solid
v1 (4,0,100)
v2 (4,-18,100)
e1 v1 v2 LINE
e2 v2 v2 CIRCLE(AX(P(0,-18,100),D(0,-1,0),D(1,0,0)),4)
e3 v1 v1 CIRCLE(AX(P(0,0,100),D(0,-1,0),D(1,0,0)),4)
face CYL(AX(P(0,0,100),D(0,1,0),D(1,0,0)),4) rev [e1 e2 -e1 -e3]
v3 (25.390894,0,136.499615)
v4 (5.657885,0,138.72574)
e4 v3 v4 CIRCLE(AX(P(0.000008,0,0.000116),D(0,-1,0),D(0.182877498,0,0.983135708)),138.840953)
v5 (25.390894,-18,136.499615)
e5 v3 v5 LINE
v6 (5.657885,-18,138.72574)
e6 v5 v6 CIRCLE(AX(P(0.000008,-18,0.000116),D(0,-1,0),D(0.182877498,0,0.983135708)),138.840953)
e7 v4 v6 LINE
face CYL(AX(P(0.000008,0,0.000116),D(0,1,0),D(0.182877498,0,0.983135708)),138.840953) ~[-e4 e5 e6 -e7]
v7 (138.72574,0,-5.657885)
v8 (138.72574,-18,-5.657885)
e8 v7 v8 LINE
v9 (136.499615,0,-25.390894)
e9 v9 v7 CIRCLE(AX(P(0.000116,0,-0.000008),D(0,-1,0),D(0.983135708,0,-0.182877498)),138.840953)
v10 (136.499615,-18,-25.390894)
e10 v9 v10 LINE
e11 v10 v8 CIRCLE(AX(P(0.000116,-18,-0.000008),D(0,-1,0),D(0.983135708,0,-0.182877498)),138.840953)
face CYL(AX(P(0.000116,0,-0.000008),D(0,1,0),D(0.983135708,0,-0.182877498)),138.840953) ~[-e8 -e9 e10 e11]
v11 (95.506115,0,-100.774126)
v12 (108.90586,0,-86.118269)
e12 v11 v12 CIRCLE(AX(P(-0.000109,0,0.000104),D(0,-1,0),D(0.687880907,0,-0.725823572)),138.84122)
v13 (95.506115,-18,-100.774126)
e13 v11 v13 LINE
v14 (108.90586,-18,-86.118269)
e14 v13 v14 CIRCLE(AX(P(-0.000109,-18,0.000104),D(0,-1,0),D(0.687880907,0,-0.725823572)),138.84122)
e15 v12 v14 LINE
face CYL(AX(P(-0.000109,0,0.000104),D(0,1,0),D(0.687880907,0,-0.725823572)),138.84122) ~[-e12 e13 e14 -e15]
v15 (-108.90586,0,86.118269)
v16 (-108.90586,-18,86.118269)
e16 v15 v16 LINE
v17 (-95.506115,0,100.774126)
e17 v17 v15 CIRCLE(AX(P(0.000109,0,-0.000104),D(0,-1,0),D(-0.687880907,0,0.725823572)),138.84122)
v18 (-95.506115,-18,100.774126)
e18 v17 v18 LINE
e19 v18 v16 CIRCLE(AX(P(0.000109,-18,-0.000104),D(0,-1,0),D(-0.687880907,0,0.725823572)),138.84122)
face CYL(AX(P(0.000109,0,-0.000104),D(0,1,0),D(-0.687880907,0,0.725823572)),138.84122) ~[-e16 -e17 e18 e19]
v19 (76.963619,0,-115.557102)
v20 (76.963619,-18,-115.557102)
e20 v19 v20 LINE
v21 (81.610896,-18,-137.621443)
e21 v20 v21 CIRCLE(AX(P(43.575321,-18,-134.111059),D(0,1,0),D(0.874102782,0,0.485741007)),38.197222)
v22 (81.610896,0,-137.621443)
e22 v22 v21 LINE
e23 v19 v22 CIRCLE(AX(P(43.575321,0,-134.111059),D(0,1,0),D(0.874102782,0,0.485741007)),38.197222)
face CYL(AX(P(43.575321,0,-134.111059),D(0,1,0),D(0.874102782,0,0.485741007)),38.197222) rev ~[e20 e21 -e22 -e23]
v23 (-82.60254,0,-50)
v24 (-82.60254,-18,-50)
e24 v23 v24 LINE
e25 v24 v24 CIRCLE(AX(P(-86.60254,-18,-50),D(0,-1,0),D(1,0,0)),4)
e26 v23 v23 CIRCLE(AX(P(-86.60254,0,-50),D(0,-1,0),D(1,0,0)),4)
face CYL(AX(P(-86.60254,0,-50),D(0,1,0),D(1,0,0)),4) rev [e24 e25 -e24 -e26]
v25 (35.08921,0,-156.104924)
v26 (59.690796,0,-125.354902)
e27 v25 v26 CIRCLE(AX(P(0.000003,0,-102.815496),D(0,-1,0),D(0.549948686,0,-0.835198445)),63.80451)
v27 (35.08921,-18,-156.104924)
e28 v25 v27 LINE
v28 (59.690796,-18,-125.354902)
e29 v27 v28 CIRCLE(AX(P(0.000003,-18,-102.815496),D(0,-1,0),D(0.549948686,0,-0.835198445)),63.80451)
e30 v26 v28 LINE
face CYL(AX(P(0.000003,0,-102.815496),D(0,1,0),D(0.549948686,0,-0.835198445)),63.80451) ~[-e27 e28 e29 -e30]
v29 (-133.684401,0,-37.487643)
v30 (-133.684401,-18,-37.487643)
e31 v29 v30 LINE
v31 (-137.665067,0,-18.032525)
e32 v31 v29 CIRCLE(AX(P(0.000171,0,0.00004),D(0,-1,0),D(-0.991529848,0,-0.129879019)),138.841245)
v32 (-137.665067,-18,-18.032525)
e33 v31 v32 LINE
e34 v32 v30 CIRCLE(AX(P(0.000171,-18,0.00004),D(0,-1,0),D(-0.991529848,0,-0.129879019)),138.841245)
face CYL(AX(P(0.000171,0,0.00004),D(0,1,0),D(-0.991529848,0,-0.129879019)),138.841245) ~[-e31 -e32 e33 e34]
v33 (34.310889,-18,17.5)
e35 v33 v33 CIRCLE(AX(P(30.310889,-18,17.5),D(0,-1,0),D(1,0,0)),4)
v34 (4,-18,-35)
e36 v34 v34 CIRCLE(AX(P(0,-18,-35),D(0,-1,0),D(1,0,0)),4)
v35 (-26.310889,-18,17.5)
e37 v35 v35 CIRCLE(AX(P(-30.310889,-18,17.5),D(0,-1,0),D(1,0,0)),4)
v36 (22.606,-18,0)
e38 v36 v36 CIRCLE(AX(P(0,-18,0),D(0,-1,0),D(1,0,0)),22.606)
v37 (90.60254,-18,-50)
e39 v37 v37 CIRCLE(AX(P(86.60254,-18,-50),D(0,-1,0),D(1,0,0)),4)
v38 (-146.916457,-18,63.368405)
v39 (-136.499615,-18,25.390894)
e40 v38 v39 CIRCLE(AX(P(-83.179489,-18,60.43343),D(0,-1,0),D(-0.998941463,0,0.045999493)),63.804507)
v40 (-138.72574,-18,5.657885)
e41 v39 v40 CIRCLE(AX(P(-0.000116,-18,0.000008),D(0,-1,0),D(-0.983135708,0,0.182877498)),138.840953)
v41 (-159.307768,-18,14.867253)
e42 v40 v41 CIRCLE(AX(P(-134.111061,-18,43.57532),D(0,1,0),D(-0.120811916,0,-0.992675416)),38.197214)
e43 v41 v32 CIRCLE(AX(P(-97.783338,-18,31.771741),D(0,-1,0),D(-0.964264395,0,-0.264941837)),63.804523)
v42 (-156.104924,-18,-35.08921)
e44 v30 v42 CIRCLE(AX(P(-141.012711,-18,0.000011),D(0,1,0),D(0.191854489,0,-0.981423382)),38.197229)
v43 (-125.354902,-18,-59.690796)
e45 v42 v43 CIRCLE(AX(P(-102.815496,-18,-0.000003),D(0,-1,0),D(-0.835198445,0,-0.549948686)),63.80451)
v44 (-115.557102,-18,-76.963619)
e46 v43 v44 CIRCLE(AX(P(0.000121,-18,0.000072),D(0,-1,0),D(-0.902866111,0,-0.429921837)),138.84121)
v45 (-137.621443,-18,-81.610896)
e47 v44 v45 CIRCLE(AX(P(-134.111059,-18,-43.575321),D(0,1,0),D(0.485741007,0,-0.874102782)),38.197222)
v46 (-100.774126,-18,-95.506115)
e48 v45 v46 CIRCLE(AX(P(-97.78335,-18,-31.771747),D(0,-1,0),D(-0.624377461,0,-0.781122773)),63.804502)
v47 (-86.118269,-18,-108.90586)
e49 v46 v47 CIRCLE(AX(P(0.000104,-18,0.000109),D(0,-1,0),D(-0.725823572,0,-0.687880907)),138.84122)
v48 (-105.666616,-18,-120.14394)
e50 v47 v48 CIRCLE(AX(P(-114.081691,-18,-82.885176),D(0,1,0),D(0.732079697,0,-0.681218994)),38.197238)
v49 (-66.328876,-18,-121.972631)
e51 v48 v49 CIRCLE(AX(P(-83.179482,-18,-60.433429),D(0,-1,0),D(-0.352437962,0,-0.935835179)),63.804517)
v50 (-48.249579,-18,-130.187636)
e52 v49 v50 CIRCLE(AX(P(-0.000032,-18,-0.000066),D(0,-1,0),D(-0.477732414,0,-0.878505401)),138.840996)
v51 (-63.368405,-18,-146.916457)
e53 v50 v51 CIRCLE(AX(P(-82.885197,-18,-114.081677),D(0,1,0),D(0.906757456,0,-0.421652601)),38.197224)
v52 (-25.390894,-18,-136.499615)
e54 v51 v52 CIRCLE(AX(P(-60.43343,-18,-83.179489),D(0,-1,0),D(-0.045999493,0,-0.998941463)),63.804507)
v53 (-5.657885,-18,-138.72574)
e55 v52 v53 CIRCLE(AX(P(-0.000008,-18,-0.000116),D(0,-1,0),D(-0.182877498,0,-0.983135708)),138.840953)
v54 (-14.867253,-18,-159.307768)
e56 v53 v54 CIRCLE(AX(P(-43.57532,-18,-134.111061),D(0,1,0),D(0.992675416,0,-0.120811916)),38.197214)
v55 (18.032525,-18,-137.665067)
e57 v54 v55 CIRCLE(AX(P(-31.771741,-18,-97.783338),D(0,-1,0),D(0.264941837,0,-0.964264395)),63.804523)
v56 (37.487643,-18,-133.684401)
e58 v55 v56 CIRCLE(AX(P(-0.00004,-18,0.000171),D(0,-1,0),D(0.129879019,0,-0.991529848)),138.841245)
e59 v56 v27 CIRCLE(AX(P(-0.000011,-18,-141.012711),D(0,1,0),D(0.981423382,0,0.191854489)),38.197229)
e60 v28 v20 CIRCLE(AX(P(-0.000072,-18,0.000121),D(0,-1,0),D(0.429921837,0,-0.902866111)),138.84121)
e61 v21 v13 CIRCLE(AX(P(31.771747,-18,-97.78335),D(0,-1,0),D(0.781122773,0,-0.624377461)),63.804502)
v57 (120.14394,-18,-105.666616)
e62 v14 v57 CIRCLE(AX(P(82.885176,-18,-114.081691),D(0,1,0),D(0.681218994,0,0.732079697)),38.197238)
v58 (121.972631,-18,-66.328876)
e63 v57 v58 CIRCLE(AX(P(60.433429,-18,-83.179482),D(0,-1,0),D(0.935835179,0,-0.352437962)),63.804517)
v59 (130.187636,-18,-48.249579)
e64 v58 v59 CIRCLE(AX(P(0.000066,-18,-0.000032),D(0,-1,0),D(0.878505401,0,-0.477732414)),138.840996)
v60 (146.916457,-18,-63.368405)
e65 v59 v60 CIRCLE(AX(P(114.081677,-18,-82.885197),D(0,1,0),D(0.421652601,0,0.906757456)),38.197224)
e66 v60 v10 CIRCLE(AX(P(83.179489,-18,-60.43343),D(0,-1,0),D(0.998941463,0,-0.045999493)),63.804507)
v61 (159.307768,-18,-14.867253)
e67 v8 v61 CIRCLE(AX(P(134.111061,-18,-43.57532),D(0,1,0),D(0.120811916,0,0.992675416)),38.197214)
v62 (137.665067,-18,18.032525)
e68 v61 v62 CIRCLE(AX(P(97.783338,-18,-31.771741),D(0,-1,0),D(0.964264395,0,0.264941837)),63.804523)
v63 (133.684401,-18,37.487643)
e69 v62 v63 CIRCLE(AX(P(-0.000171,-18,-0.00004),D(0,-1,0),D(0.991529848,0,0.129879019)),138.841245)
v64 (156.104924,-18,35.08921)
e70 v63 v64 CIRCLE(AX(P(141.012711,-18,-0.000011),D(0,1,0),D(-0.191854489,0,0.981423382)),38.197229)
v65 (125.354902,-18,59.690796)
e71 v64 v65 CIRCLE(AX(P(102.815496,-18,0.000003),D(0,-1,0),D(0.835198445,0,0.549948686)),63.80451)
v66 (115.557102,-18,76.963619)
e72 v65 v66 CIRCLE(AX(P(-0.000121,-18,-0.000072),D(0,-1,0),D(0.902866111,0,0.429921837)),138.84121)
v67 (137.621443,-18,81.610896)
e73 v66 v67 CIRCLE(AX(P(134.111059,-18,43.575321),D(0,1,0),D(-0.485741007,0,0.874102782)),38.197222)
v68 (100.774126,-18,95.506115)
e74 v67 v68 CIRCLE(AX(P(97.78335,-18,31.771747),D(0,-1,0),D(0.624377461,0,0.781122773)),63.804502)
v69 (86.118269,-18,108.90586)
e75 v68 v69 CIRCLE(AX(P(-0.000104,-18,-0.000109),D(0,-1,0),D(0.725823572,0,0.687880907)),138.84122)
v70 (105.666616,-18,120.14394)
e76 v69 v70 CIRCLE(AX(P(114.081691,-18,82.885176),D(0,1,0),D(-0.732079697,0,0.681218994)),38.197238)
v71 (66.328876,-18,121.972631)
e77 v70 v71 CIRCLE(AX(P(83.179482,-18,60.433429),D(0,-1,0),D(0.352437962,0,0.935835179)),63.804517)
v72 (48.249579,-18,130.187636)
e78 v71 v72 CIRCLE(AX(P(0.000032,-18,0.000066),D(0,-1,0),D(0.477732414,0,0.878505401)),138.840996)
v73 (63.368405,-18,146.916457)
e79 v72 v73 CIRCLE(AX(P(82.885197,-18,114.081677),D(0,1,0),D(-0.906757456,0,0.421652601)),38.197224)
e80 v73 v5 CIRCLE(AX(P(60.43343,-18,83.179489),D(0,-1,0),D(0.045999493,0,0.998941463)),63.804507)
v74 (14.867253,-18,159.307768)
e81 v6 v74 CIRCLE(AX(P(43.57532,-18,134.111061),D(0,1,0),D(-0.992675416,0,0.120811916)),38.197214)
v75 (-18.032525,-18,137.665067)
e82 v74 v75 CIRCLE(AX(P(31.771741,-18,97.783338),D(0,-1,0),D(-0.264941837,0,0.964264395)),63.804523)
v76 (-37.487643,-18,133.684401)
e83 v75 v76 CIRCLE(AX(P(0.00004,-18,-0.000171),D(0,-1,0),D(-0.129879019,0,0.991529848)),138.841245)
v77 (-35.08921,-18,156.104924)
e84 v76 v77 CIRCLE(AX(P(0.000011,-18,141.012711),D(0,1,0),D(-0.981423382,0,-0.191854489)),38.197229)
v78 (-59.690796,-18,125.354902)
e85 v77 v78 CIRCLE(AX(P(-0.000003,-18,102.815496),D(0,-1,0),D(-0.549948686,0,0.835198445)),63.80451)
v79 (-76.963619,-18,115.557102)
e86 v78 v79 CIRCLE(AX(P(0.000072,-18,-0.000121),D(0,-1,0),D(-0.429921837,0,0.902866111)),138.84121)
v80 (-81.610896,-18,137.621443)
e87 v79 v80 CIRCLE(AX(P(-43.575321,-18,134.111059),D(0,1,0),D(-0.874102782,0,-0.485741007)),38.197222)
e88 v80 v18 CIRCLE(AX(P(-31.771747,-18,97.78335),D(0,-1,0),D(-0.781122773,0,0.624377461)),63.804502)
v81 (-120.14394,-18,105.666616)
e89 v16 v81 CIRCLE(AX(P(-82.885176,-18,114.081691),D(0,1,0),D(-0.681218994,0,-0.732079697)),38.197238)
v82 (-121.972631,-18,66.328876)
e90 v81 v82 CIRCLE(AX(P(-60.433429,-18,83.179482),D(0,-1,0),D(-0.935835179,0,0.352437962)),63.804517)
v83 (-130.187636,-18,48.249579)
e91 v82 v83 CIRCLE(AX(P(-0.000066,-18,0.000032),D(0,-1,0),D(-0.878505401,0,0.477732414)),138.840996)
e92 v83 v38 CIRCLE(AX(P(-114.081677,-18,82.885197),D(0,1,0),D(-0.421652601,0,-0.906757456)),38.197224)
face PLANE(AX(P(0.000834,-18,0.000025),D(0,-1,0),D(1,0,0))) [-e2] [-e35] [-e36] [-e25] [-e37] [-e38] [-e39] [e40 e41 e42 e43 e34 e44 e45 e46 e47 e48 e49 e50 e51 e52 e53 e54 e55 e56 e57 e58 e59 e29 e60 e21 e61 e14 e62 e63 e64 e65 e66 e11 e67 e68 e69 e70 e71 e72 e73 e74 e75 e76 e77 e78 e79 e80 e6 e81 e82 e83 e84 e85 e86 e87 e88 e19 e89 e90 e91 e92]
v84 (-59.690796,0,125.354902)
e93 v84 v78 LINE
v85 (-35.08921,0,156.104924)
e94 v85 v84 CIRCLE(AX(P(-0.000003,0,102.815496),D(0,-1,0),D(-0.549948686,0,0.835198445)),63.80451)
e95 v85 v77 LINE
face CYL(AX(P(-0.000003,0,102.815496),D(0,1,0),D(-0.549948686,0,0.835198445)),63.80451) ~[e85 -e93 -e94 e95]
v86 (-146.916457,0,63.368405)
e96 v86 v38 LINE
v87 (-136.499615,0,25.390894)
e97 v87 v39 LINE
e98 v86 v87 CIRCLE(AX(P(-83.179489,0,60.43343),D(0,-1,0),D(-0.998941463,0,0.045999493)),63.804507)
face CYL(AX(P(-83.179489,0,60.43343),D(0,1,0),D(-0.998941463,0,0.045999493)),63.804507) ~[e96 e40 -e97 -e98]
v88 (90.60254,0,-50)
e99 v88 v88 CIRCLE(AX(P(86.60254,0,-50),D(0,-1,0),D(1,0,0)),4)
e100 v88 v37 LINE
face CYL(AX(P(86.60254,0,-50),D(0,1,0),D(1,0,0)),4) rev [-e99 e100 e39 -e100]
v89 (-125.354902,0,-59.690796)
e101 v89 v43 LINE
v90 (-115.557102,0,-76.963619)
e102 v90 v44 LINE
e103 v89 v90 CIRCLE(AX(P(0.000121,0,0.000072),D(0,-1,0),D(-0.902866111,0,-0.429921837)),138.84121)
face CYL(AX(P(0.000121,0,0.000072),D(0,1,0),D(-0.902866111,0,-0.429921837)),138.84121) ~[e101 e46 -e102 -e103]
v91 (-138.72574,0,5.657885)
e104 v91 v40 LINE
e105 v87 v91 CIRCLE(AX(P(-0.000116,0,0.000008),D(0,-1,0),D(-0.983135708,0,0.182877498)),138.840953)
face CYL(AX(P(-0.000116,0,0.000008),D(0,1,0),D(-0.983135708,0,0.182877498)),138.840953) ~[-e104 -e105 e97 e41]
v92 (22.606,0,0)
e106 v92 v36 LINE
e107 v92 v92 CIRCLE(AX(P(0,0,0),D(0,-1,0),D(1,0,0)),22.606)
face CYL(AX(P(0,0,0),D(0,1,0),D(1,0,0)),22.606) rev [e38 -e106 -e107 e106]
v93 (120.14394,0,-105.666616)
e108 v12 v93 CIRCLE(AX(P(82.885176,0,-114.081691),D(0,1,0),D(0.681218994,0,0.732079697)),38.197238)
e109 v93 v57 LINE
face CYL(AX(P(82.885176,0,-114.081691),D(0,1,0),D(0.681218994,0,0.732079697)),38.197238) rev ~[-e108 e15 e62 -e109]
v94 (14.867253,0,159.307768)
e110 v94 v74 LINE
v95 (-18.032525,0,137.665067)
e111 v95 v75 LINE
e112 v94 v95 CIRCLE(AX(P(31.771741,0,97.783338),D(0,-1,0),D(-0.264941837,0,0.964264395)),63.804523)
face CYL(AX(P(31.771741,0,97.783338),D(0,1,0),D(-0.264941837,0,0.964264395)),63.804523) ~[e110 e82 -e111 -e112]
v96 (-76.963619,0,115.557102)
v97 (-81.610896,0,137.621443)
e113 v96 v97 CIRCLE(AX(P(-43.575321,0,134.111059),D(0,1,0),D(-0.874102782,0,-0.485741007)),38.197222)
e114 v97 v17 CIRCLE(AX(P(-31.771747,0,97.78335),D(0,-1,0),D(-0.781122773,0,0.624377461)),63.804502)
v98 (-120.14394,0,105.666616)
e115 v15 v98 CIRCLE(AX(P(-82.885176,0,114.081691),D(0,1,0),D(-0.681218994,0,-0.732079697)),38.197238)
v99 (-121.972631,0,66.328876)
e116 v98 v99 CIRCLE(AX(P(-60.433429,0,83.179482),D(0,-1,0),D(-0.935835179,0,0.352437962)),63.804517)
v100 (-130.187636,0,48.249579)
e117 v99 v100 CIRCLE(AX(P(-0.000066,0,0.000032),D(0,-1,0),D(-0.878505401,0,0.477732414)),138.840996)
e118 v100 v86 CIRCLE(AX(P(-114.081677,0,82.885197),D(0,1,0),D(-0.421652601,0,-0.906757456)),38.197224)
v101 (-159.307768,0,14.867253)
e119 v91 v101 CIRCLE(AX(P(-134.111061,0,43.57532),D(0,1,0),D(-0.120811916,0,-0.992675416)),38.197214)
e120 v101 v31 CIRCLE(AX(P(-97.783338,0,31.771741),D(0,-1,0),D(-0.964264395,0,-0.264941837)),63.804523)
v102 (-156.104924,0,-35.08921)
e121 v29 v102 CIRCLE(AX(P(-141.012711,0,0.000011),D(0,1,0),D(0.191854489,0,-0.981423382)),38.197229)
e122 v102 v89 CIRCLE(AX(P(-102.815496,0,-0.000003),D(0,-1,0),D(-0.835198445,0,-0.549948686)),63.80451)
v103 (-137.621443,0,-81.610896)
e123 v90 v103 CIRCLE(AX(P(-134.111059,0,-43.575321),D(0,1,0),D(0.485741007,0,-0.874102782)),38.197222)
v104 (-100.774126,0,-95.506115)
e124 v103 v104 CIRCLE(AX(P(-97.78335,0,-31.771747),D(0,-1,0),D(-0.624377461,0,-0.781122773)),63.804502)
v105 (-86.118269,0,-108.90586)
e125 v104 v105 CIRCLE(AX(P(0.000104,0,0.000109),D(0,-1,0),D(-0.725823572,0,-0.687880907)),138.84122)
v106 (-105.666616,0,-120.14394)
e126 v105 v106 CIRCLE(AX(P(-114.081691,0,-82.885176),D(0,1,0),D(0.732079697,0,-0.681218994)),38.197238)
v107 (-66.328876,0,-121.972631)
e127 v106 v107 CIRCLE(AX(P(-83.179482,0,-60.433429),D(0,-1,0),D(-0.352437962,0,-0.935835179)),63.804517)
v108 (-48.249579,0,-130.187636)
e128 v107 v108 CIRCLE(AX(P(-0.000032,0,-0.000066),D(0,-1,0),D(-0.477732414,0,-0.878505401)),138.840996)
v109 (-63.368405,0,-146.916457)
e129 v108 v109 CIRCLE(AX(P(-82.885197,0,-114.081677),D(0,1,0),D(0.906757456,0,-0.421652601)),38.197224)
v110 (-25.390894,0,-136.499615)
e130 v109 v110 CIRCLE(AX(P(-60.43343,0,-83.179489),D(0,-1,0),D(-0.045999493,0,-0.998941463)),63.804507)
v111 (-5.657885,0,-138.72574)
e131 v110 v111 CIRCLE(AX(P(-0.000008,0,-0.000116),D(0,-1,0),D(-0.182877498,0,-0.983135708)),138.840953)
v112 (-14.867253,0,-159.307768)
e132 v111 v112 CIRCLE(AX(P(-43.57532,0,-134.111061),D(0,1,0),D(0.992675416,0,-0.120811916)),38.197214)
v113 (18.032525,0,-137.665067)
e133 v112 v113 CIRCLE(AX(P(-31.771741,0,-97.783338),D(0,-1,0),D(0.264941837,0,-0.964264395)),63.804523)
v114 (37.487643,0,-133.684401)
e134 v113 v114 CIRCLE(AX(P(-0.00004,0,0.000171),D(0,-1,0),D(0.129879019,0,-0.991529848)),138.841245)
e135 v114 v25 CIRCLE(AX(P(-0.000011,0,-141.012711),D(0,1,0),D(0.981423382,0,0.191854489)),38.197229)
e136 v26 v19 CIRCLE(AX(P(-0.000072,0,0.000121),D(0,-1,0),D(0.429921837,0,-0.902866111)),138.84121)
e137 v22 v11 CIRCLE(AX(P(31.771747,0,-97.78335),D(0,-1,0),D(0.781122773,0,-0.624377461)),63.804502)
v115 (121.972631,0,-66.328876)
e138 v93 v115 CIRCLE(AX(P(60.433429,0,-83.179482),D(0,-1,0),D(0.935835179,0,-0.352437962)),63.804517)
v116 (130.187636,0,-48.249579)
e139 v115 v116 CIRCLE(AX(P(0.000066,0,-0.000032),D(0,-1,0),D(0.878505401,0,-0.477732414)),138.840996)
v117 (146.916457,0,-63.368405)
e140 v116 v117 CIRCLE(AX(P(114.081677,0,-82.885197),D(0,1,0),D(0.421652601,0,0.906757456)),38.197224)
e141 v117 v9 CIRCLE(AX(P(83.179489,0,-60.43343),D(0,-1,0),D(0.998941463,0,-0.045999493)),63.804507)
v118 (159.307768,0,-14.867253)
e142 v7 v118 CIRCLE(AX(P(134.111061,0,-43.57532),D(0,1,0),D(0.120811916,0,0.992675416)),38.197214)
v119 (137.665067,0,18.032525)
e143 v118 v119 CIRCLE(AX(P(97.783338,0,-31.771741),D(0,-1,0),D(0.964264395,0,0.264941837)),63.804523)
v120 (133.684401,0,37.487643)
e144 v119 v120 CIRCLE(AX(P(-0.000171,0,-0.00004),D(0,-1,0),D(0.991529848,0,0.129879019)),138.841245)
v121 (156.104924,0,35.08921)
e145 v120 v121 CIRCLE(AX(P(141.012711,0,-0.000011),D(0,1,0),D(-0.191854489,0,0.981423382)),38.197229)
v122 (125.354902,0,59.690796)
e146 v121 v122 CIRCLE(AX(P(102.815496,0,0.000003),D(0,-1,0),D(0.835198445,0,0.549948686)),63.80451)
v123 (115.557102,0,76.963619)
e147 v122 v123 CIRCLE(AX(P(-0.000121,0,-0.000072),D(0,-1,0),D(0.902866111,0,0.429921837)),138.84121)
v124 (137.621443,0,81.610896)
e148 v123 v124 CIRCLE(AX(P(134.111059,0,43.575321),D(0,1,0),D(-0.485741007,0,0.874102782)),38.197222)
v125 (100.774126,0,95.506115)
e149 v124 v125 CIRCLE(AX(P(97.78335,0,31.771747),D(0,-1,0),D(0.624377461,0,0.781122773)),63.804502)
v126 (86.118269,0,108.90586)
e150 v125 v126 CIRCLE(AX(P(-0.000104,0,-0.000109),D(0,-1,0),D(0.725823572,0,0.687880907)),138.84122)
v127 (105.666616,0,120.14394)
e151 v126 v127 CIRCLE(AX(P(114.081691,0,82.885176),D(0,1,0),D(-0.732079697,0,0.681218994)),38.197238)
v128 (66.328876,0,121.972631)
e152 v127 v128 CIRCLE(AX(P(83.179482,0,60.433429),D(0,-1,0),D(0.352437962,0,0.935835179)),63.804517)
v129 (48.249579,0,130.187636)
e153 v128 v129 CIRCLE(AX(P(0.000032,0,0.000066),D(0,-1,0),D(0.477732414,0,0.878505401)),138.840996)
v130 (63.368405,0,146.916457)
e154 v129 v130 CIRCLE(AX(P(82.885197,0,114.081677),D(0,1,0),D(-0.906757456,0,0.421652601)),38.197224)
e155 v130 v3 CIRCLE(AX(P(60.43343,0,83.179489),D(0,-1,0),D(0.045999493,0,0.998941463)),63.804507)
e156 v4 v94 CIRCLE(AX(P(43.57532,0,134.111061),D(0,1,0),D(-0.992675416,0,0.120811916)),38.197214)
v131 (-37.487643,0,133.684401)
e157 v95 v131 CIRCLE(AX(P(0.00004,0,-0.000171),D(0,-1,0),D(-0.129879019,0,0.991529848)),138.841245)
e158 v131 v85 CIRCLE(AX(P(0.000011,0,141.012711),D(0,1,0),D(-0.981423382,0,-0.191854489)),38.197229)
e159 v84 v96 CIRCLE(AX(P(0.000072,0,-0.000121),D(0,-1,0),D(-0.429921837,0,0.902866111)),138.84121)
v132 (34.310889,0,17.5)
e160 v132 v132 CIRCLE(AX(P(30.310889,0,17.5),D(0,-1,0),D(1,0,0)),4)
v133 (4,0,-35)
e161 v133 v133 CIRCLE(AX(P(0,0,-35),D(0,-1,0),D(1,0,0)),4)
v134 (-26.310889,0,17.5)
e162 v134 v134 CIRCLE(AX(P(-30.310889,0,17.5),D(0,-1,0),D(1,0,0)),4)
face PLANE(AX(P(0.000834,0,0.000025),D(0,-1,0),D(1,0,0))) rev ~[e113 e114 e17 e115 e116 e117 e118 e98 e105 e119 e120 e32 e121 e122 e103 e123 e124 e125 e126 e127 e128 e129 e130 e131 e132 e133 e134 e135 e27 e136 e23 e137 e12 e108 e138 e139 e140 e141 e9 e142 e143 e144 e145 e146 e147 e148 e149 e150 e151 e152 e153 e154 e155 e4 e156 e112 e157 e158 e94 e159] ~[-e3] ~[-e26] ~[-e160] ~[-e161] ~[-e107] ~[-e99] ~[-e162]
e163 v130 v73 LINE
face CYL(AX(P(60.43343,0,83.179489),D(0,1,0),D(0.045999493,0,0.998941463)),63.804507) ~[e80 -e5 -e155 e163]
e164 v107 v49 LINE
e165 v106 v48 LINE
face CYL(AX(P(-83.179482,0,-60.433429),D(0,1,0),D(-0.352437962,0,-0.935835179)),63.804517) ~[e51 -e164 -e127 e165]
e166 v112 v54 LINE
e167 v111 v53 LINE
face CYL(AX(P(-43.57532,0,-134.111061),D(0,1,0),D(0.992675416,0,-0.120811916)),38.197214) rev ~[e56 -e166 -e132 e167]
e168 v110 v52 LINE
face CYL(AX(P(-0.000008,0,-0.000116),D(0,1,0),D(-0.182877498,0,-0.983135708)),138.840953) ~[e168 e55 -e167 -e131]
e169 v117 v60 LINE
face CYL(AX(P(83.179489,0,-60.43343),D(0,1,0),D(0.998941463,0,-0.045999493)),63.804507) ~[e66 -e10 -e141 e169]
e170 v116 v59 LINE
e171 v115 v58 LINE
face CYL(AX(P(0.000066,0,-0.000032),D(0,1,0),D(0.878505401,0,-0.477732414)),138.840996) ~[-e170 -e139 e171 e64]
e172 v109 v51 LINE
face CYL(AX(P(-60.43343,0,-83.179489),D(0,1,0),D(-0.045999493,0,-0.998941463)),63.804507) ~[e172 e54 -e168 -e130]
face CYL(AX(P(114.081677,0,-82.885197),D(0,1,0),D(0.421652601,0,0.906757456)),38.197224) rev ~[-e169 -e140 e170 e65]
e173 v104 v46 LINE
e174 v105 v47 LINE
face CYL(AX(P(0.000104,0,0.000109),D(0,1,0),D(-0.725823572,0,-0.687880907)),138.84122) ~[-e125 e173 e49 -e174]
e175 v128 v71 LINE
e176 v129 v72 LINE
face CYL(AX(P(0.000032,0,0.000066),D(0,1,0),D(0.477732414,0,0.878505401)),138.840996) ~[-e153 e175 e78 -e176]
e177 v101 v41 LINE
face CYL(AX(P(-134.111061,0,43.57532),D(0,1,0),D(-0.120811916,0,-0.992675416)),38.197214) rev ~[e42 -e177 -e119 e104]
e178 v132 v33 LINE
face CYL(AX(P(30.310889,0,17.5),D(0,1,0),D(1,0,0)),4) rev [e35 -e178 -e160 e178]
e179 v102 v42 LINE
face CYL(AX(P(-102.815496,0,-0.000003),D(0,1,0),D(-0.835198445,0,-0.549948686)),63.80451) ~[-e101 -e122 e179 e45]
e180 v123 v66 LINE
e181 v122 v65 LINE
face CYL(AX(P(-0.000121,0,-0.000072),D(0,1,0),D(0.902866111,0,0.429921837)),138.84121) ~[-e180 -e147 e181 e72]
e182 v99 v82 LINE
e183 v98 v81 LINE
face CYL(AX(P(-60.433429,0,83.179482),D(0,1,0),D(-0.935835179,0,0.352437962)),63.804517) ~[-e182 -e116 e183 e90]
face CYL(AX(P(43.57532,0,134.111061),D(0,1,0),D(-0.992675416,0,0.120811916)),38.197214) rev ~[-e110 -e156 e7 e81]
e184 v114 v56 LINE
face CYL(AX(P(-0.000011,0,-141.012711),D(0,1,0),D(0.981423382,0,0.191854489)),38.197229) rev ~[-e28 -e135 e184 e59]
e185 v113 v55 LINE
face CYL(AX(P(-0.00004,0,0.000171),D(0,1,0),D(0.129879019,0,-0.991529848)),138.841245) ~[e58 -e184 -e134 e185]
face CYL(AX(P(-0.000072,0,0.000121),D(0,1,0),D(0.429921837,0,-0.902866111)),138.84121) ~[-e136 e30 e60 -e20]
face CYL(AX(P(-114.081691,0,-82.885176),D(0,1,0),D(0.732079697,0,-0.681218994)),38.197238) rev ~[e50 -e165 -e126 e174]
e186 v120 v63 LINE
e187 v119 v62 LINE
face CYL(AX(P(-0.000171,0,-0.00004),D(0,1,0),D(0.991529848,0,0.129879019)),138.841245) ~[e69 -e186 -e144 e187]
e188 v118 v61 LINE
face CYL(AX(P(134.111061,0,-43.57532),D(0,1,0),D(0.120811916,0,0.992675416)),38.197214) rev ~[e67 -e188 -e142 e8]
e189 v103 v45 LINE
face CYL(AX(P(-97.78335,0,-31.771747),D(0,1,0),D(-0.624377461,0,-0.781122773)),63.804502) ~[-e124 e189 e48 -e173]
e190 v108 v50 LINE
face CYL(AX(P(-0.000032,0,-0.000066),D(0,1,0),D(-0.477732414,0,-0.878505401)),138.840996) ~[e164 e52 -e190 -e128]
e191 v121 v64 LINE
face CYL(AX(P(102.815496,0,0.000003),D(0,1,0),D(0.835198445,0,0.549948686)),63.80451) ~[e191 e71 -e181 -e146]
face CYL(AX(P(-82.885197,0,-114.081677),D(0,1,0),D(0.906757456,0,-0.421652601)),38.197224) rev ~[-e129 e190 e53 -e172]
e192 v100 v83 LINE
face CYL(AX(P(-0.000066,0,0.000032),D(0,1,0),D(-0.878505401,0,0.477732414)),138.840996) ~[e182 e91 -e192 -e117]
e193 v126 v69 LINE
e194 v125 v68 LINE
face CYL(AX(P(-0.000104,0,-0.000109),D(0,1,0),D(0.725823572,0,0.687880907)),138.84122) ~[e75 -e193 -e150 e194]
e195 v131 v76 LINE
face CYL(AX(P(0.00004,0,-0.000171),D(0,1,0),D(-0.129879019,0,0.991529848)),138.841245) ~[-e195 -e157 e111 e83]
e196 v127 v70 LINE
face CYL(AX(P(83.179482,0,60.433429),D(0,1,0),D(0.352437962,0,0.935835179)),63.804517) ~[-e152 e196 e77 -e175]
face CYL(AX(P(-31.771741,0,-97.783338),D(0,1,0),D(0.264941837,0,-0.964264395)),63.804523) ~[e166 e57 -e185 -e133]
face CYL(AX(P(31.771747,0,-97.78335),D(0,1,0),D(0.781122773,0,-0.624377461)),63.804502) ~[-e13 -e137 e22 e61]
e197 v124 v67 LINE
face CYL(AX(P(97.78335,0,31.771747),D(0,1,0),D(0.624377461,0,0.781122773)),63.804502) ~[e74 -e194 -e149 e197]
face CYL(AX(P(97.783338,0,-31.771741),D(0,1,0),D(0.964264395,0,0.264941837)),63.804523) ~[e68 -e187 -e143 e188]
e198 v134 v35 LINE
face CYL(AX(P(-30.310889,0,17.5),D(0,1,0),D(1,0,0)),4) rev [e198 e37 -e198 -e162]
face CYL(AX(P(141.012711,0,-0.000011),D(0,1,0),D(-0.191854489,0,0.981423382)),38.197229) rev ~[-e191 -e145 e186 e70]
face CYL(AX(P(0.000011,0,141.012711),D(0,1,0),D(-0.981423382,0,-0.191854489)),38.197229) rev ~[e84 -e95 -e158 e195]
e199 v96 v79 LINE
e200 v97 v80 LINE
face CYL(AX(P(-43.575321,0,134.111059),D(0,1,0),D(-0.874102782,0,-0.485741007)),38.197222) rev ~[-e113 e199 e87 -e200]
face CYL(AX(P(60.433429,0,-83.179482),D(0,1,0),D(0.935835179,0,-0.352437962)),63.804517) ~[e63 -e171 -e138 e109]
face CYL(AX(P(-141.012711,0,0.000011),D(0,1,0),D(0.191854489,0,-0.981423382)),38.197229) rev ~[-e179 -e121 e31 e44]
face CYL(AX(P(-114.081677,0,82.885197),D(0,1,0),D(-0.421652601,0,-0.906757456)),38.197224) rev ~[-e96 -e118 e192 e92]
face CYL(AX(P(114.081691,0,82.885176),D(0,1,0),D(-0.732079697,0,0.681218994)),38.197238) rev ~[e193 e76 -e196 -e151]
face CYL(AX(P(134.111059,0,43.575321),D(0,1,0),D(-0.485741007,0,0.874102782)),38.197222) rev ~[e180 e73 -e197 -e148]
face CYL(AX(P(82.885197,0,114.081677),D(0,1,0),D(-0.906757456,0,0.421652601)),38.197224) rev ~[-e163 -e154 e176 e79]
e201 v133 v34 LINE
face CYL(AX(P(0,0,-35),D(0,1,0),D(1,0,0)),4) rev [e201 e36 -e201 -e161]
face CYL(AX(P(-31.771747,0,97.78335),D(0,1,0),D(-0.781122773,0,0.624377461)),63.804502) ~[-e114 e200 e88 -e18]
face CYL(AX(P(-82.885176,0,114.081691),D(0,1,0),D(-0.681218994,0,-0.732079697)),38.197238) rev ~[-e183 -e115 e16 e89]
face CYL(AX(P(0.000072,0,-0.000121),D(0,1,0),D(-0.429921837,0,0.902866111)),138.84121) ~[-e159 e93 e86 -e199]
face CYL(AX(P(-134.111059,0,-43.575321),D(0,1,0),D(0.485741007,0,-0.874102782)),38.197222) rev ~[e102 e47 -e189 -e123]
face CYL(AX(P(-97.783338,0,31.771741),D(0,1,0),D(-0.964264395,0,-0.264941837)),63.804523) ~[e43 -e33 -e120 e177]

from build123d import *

# Parameters (mm, degrees)
F0_R     = 4
F0_R_2   = 22.606
F1_DEPTH = 18


with BuildPart() as f1:
    # F0 (on Front) → F1 (new body)
    with BuildSketch(Plane.XZ):
        with BuildLine():
            ThreePointArc((138.72574, -5.657885), (138.812234, -2.82953), (138.841069, 0))
            ThreePointArc((138.841069, 0), (138.546757, 9.035416), (137.665067, 18.032525))
            ThreePointArc((137.665067, 18.032525), (136.023008, 27.831344), (133.684401, 37.487643))
            ThreePointArc((133.684401, 37.487643), (129.994558, 48.76738), (125.354902, 59.690796))
            ThreePointArc((125.354902, 59.690796), (120.76521, 68.502602), (115.557102, 76.963619))
            ThreePointArc((115.557102, 76.963619), (108.562222, 86.551062), (100.774126, 95.506115))
            ThreePointArc((100.774126, 95.506115), (93.686072, 102.468348), (86.118269, 108.90586))
            ThreePointArc((86.118269, 108.90586), (76.50306, 115.862524), (66.328876, 121.972631))
            ThreePointArc((66.328876, 121.972631), (57.436288, 126.403779), (48.249579, 130.187636))
            ThreePointArc((48.249579, 130.187636), (36.955245, 133.832554), (25.390894, 136.499615))
            ThreePointArc((25.390894, 136.499615), (15.56424, 137.965927), (5.657885, 138.72574))
            ThreePointArc((5.657885, 138.72574), (-6.210007, 138.702121), (-18.032525, 137.665067))
            ThreePointArc((-18.032525, 137.665067), (-27.831344, 136.023008), (-37.487643, 133.684401))
            ThreePointArc((-37.487643, 133.684401), (-48.76738, 129.994558), (-59.690796, 125.354902))
            ThreePointArc((-59.690796, 125.354902), (-68.502602, 120.76521), (-76.963619, 115.557102))
            ThreePointArc((-76.963619, 115.557102), (-86.551062, 108.562222), (-95.506115, 100.774126))
            ThreePointArc((-95.506115, 100.774126), (-102.468348, 93.686072), (-108.90586, 86.118269))
            ThreePointArc((-108.90586, 86.118269), (-115.862524, 76.50306), (-121.972631, 66.328876))
            ThreePointArc((-121.972631, 66.328876), (-126.403779, 57.436288), (-130.187636, 48.249579))
            ThreePointArc((-130.187636, 48.249579), (-133.832554, 36.955245), (-136.499615, 25.390894))
            ThreePointArc((-136.499615, 25.390894), (-137.965927, 15.56424), (-138.72574, 5.657885))
            ThreePointArc((-138.72574, 5.657885), (-138.702121, -6.210007), (-137.665067, -18.032525))
            ThreePointArc((-137.665067, -18.032525), (-136.023008, -27.831344), (-133.684401, -37.487643))
            ThreePointArc((-133.684401, -37.487643), (-129.994558, -48.76738), (-125.354902, -59.690796))
            ThreePointArc((-125.354902, -59.690796), (-120.76521, -68.502602), (-115.557102, -76.963619))
            ThreePointArc((-115.557102, -76.963619), (-108.562222, -86.551062), (-100.774126, -95.506115))
            ThreePointArc((-100.774126, -95.506115), (-93.686072, -102.468348), (-86.118269, -108.90586))
            ThreePointArc((-86.118269, -108.90586), (-76.50306, -115.862524), (-66.328876, -121.972631))
            ThreePointArc((-66.328876, -121.972631), (-57.436288, -126.403779), (-48.249579, -130.187636))
            ThreePointArc((-48.249579, -130.187636), (-36.955245, -133.832554), (-25.390894, -136.499615))
            ThreePointArc((-25.390894, -136.499615), (-15.56424, -137.965927), (-5.657885, -138.72574))
            ThreePointArc((-5.657885, -138.72574), (6.210007, -138.702121), (18.032525, -137.665067))
            ThreePointArc((18.032525, -137.665067), (27.831344, -136.023008), (37.487643, -133.684401))
            ThreePointArc((37.487643, -133.684401), (48.76738, -129.994558), (59.690796, -125.354902))
            ThreePointArc((59.690796, -125.354902), (68.502602, -120.76521), (76.963619, -115.557102))
            ThreePointArc((76.963619, -115.557102), (86.551062, -108.562222), (95.506115, -100.774126))
            ThreePointArc((95.506115, -100.774126), (102.468348, -93.686072), (108.90586, -86.118269))
            ThreePointArc((108.90586, -86.118269), (115.862524, -76.50306), (121.972631, -66.328876))
            ThreePointArc((121.972631, -66.328876), (126.403779, -57.436288), (130.187636, -48.249579))
            ThreePointArc((130.187636, -48.249579), (133.832554, -36.955245), (136.499615, -25.390894))
            ThreePointArc((136.499615, -25.390894), (137.965927, -15.56424), (138.72574, -5.657885))
        make_face()
        with Locations((-86.60254, -50)):
            Circle(F0_R, mode=Mode.SUBTRACT)
        with Locations((0, -35)):
            Circle(F0_R, mode=Mode.SUBTRACT)
        with Locations((86.60254, -50)):
            Circle(F0_R, mode=Mode.SUBTRACT)
        with Locations((-30.310889, 17.5)):
            Circle(F0_R, mode=Mode.SUBTRACT)
        Circle(F0_R_2, mode=Mode.SUBTRACT)
        with Locations((30.310889, 17.5)):
            Circle(F0_R, mode=Mode.SUBTRACT)
        with Locations((0, 100)):
            Circle(F0_R, mode=Mode.SUBTRACT)
        with BuildLine():
            ThreePointArc((-137.665067, -18.032525), (-138.702121, -6.210007), (-138.72574, 5.657885))
            ThreePointArc((-138.72574, 5.657885), (-149.711791, 8.709228), (-159.307768, 14.867253))
            ThreePointArc((-159.307768, 14.867253), (-151.088132, -3.294142), (-137.665067, -18.032525))
        make_face()
        with BuildLine():
            ThreePointArc((-136.499615, 25.390894), (-133.832554, 36.955245), (-130.187636, 48.249579))
            ThreePointArc((-130.187636, 48.249579), (-139.693075, 54.546456), (-146.916457, 63.368405))
            ThreePointArc((-146.916457, 63.368405), (-144.711299, 43.555885), (-136.499615, 25.390894))
        make_face()
        with BuildLine():
            ThreePointArc((-121.972631, 66.328876), (-115.862524, 76.50306), (-108.90586, 86.118269))
            ThreePointArc((-108.90586, 86.118269), (-116.000227, 95.044297), (-120.14394, 105.666616))
            ThreePointArc((-120.14394, 105.666616), (-124.169115, 86.142359), (-121.972631, 66.328876))
        make_face()
        with BuildLine():
            ThreePointArc((-95.506115, 100.774126), (-86.551062, 108.562222), (-76.963619, 115.557102))
            ThreePointArc((-76.963619, 115.557102), (-80.952469, 126.238539), (-81.610896, 137.621443))
            ThreePointArc((-81.610896, 137.621443), (-91.472393, 120.296619), (-95.506115, 100.774126))
        make_face()
        with BuildLine():
            ThreePointArc((-59.690796, 125.354902), (-48.76738, 129.994558), (-37.487643, 133.684401))
            ThreePointArc((-37.487643, 133.684401), (-37.980519, 145.075674), (-35.08921, 156.104924))
            ThreePointArc((-35.08921, 156.104924), (-49.821716, 142.675407), (-59.690796, 125.354902))
        make_face()
        with BuildLine():
            ThreePointArc((-18.032525, 137.665067), (-6.210007, 138.702121), (5.657885, 138.72574))
            ThreePointArc((5.657885, 138.72574), (8.709228, 149.711791), (14.867253, 159.307768))
            ThreePointArc((14.867253, 159.307768), (-3.294142, 151.088132), (-18.032525, 137.665067))
        make_face()
        with BuildLine():
            ThreePointArc((25.390894, 136.499615), (36.955245, 133.832554), (48.249579, 130.187636))
            ThreePointArc((48.249579, 130.187636), (54.546456, 139.693075), (63.368405, 146.916457))
            ThreePointArc((63.368405, 146.916457), (43.555885, 144.711299), (25.390894, 136.499615))
        make_face()
        with BuildLine():
            ThreePointArc((66.328876, 121.972631), (76.50306, 115.862524), (86.118269, 108.90586))
            ThreePointArc((86.118269, 108.90586), (95.044297, 116.000227), (105.666616, 120.14394))
            ThreePointArc((105.666616, 120.14394), (86.142359, 124.169115), (66.328876, 121.972631))
        make_face()
        with BuildLine():
            ThreePointArc((100.774126, 95.506115), (108.562222, 86.551062), (115.557102, 76.963619))
            ThreePointArc((115.557102, 76.963619), (126.238539, 80.952469), (137.621443, 81.610896))
            ThreePointArc((137.621443, 81.610896), (120.296619, 91.472393), (100.774126, 95.506115))
        make_face()
        with BuildLine():
            ThreePointArc((125.354902, 59.690796), (129.994558, 48.76738), (133.684401, 37.487643))
            ThreePointArc((133.684401, 37.487643), (145.075674, 37.980519), (156.104924, 35.08921))
            ThreePointArc((156.104924, 35.08921), (142.675407, 49.821716), (125.354902, 59.690796))
        make_face()
        with BuildLine():
            ThreePointArc((137.665067, 18.032525), (138.546757, 9.035416), (138.841069, 0))
            ThreePointArc((138.841069, 0), (138.812234, -2.82953), (138.72574, -5.657885))
            ThreePointArc((138.72574, -5.657885), (149.711791, -8.709228), (159.307768, -14.867253))
            ThreePointArc((159.307768, -14.867253), (151.088132, 3.294142), (137.665067, 18.032525))
        make_face()
        with BuildLine():
            ThreePointArc((146.916457, -63.368405), (144.711299, -43.555885), (136.499615, -25.390894))
            ThreePointArc((136.499615, -25.390894), (133.832554, -36.955245), (130.187636, -48.249579))
            ThreePointArc((130.187636, -48.249579), (139.693075, -54.546456), (146.916457, -63.368405))
        make_face()
        with BuildLine():
            ThreePointArc((120.14394, -105.666616), (124.169115, -86.142359), (121.972631, -66.328876))
            ThreePointArc((121.972631, -66.328876), (115.862524, -76.50306), (108.90586, -86.118269))
            ThreePointArc((108.90586, -86.118269), (116.000227, -95.044297), (120.14394, -105.666616))
        make_face()
        with BuildLine():
            ThreePointArc((81.610896, -137.621443), (91.472393, -120.296619), (95.506115, -100.774126))
            ThreePointArc((95.506115, -100.774126), (86.551062, -108.562222), (76.963619, -115.557102))
            ThreePointArc((76.963619, -115.557102), (80.952469, -126.238539), (81.610896, -137.621443))
        make_face()
        with BuildLine():
            ThreePointArc((35.08921, -156.104924), (49.821716, -142.675407), (59.690796, -125.354902))
            ThreePointArc((59.690796, -125.354902), (48.76738, -129.994558), (37.487643, -133.684401))
            ThreePointArc((37.487643, -133.684401), (37.980519, -145.075674), (35.08921, -156.104924))
        make_face()
        with BuildLine():
            ThreePointArc((-14.867253, -159.307768), (3.294142, -151.088132), (18.032525, -137.665067))
            ThreePointArc((18.032525, -137.665067), (6.210007, -138.702121), (-5.657885, -138.72574))
            ThreePointArc((-5.657885, -138.72574), (-8.709228, -149.711791), (-14.867253, -159.307768))
        make_face()
        with BuildLine():
            ThreePointArc((-63.368405, -146.916457), (-43.555885, -144.711299), (-25.390894, -136.499615))
            ThreePointArc((-25.390894, -136.499615), (-36.955245, -133.832554), (-48.249579, -130.187636))
            ThreePointArc((-48.249579, -130.187636), (-54.546456, -139.693075), (-63.368405, -146.916457))
        make_face()
        with BuildLine():
            ThreePointArc((-105.666616, -120.14394), (-86.142359, -124.169115), (-66.328876, -121.972631))
            ThreePointArc((-66.328876, -121.972631), (-76.50306, -115.862524), (-86.118269, -108.90586))
            ThreePointArc((-86.118269, -108.90586), (-95.044297, -116.000227), (-105.666616, -120.14394))
        make_face()
        with BuildLine():
            ThreePointArc((-137.621443, -81.610896), (-120.296619, -91.472393), (-100.774126, -95.506115))
            ThreePointArc((-100.774126, -95.506115), (-108.562222, -86.551062), (-115.557102, -76.963619))
            ThreePointArc((-115.557102, -76.963619), (-126.238539, -80.952469), (-137.621443, -81.610896))
        make_face()
        with BuildLine():
            ThreePointArc((-156.104924, -35.08921), (-142.675407, -49.821716), (-125.354902, -59.690796))
            ThreePointArc((-125.354902, -59.690796), (-129.994558, -48.76738), (-133.684401, -37.487643))
            ThreePointArc((-133.684401, -37.487643), (-145.075674, -37.980519), (-156.104924, -35.08921))
        make_face()
    extrude(amount=F1_DEPTH)


solid = f1.part
